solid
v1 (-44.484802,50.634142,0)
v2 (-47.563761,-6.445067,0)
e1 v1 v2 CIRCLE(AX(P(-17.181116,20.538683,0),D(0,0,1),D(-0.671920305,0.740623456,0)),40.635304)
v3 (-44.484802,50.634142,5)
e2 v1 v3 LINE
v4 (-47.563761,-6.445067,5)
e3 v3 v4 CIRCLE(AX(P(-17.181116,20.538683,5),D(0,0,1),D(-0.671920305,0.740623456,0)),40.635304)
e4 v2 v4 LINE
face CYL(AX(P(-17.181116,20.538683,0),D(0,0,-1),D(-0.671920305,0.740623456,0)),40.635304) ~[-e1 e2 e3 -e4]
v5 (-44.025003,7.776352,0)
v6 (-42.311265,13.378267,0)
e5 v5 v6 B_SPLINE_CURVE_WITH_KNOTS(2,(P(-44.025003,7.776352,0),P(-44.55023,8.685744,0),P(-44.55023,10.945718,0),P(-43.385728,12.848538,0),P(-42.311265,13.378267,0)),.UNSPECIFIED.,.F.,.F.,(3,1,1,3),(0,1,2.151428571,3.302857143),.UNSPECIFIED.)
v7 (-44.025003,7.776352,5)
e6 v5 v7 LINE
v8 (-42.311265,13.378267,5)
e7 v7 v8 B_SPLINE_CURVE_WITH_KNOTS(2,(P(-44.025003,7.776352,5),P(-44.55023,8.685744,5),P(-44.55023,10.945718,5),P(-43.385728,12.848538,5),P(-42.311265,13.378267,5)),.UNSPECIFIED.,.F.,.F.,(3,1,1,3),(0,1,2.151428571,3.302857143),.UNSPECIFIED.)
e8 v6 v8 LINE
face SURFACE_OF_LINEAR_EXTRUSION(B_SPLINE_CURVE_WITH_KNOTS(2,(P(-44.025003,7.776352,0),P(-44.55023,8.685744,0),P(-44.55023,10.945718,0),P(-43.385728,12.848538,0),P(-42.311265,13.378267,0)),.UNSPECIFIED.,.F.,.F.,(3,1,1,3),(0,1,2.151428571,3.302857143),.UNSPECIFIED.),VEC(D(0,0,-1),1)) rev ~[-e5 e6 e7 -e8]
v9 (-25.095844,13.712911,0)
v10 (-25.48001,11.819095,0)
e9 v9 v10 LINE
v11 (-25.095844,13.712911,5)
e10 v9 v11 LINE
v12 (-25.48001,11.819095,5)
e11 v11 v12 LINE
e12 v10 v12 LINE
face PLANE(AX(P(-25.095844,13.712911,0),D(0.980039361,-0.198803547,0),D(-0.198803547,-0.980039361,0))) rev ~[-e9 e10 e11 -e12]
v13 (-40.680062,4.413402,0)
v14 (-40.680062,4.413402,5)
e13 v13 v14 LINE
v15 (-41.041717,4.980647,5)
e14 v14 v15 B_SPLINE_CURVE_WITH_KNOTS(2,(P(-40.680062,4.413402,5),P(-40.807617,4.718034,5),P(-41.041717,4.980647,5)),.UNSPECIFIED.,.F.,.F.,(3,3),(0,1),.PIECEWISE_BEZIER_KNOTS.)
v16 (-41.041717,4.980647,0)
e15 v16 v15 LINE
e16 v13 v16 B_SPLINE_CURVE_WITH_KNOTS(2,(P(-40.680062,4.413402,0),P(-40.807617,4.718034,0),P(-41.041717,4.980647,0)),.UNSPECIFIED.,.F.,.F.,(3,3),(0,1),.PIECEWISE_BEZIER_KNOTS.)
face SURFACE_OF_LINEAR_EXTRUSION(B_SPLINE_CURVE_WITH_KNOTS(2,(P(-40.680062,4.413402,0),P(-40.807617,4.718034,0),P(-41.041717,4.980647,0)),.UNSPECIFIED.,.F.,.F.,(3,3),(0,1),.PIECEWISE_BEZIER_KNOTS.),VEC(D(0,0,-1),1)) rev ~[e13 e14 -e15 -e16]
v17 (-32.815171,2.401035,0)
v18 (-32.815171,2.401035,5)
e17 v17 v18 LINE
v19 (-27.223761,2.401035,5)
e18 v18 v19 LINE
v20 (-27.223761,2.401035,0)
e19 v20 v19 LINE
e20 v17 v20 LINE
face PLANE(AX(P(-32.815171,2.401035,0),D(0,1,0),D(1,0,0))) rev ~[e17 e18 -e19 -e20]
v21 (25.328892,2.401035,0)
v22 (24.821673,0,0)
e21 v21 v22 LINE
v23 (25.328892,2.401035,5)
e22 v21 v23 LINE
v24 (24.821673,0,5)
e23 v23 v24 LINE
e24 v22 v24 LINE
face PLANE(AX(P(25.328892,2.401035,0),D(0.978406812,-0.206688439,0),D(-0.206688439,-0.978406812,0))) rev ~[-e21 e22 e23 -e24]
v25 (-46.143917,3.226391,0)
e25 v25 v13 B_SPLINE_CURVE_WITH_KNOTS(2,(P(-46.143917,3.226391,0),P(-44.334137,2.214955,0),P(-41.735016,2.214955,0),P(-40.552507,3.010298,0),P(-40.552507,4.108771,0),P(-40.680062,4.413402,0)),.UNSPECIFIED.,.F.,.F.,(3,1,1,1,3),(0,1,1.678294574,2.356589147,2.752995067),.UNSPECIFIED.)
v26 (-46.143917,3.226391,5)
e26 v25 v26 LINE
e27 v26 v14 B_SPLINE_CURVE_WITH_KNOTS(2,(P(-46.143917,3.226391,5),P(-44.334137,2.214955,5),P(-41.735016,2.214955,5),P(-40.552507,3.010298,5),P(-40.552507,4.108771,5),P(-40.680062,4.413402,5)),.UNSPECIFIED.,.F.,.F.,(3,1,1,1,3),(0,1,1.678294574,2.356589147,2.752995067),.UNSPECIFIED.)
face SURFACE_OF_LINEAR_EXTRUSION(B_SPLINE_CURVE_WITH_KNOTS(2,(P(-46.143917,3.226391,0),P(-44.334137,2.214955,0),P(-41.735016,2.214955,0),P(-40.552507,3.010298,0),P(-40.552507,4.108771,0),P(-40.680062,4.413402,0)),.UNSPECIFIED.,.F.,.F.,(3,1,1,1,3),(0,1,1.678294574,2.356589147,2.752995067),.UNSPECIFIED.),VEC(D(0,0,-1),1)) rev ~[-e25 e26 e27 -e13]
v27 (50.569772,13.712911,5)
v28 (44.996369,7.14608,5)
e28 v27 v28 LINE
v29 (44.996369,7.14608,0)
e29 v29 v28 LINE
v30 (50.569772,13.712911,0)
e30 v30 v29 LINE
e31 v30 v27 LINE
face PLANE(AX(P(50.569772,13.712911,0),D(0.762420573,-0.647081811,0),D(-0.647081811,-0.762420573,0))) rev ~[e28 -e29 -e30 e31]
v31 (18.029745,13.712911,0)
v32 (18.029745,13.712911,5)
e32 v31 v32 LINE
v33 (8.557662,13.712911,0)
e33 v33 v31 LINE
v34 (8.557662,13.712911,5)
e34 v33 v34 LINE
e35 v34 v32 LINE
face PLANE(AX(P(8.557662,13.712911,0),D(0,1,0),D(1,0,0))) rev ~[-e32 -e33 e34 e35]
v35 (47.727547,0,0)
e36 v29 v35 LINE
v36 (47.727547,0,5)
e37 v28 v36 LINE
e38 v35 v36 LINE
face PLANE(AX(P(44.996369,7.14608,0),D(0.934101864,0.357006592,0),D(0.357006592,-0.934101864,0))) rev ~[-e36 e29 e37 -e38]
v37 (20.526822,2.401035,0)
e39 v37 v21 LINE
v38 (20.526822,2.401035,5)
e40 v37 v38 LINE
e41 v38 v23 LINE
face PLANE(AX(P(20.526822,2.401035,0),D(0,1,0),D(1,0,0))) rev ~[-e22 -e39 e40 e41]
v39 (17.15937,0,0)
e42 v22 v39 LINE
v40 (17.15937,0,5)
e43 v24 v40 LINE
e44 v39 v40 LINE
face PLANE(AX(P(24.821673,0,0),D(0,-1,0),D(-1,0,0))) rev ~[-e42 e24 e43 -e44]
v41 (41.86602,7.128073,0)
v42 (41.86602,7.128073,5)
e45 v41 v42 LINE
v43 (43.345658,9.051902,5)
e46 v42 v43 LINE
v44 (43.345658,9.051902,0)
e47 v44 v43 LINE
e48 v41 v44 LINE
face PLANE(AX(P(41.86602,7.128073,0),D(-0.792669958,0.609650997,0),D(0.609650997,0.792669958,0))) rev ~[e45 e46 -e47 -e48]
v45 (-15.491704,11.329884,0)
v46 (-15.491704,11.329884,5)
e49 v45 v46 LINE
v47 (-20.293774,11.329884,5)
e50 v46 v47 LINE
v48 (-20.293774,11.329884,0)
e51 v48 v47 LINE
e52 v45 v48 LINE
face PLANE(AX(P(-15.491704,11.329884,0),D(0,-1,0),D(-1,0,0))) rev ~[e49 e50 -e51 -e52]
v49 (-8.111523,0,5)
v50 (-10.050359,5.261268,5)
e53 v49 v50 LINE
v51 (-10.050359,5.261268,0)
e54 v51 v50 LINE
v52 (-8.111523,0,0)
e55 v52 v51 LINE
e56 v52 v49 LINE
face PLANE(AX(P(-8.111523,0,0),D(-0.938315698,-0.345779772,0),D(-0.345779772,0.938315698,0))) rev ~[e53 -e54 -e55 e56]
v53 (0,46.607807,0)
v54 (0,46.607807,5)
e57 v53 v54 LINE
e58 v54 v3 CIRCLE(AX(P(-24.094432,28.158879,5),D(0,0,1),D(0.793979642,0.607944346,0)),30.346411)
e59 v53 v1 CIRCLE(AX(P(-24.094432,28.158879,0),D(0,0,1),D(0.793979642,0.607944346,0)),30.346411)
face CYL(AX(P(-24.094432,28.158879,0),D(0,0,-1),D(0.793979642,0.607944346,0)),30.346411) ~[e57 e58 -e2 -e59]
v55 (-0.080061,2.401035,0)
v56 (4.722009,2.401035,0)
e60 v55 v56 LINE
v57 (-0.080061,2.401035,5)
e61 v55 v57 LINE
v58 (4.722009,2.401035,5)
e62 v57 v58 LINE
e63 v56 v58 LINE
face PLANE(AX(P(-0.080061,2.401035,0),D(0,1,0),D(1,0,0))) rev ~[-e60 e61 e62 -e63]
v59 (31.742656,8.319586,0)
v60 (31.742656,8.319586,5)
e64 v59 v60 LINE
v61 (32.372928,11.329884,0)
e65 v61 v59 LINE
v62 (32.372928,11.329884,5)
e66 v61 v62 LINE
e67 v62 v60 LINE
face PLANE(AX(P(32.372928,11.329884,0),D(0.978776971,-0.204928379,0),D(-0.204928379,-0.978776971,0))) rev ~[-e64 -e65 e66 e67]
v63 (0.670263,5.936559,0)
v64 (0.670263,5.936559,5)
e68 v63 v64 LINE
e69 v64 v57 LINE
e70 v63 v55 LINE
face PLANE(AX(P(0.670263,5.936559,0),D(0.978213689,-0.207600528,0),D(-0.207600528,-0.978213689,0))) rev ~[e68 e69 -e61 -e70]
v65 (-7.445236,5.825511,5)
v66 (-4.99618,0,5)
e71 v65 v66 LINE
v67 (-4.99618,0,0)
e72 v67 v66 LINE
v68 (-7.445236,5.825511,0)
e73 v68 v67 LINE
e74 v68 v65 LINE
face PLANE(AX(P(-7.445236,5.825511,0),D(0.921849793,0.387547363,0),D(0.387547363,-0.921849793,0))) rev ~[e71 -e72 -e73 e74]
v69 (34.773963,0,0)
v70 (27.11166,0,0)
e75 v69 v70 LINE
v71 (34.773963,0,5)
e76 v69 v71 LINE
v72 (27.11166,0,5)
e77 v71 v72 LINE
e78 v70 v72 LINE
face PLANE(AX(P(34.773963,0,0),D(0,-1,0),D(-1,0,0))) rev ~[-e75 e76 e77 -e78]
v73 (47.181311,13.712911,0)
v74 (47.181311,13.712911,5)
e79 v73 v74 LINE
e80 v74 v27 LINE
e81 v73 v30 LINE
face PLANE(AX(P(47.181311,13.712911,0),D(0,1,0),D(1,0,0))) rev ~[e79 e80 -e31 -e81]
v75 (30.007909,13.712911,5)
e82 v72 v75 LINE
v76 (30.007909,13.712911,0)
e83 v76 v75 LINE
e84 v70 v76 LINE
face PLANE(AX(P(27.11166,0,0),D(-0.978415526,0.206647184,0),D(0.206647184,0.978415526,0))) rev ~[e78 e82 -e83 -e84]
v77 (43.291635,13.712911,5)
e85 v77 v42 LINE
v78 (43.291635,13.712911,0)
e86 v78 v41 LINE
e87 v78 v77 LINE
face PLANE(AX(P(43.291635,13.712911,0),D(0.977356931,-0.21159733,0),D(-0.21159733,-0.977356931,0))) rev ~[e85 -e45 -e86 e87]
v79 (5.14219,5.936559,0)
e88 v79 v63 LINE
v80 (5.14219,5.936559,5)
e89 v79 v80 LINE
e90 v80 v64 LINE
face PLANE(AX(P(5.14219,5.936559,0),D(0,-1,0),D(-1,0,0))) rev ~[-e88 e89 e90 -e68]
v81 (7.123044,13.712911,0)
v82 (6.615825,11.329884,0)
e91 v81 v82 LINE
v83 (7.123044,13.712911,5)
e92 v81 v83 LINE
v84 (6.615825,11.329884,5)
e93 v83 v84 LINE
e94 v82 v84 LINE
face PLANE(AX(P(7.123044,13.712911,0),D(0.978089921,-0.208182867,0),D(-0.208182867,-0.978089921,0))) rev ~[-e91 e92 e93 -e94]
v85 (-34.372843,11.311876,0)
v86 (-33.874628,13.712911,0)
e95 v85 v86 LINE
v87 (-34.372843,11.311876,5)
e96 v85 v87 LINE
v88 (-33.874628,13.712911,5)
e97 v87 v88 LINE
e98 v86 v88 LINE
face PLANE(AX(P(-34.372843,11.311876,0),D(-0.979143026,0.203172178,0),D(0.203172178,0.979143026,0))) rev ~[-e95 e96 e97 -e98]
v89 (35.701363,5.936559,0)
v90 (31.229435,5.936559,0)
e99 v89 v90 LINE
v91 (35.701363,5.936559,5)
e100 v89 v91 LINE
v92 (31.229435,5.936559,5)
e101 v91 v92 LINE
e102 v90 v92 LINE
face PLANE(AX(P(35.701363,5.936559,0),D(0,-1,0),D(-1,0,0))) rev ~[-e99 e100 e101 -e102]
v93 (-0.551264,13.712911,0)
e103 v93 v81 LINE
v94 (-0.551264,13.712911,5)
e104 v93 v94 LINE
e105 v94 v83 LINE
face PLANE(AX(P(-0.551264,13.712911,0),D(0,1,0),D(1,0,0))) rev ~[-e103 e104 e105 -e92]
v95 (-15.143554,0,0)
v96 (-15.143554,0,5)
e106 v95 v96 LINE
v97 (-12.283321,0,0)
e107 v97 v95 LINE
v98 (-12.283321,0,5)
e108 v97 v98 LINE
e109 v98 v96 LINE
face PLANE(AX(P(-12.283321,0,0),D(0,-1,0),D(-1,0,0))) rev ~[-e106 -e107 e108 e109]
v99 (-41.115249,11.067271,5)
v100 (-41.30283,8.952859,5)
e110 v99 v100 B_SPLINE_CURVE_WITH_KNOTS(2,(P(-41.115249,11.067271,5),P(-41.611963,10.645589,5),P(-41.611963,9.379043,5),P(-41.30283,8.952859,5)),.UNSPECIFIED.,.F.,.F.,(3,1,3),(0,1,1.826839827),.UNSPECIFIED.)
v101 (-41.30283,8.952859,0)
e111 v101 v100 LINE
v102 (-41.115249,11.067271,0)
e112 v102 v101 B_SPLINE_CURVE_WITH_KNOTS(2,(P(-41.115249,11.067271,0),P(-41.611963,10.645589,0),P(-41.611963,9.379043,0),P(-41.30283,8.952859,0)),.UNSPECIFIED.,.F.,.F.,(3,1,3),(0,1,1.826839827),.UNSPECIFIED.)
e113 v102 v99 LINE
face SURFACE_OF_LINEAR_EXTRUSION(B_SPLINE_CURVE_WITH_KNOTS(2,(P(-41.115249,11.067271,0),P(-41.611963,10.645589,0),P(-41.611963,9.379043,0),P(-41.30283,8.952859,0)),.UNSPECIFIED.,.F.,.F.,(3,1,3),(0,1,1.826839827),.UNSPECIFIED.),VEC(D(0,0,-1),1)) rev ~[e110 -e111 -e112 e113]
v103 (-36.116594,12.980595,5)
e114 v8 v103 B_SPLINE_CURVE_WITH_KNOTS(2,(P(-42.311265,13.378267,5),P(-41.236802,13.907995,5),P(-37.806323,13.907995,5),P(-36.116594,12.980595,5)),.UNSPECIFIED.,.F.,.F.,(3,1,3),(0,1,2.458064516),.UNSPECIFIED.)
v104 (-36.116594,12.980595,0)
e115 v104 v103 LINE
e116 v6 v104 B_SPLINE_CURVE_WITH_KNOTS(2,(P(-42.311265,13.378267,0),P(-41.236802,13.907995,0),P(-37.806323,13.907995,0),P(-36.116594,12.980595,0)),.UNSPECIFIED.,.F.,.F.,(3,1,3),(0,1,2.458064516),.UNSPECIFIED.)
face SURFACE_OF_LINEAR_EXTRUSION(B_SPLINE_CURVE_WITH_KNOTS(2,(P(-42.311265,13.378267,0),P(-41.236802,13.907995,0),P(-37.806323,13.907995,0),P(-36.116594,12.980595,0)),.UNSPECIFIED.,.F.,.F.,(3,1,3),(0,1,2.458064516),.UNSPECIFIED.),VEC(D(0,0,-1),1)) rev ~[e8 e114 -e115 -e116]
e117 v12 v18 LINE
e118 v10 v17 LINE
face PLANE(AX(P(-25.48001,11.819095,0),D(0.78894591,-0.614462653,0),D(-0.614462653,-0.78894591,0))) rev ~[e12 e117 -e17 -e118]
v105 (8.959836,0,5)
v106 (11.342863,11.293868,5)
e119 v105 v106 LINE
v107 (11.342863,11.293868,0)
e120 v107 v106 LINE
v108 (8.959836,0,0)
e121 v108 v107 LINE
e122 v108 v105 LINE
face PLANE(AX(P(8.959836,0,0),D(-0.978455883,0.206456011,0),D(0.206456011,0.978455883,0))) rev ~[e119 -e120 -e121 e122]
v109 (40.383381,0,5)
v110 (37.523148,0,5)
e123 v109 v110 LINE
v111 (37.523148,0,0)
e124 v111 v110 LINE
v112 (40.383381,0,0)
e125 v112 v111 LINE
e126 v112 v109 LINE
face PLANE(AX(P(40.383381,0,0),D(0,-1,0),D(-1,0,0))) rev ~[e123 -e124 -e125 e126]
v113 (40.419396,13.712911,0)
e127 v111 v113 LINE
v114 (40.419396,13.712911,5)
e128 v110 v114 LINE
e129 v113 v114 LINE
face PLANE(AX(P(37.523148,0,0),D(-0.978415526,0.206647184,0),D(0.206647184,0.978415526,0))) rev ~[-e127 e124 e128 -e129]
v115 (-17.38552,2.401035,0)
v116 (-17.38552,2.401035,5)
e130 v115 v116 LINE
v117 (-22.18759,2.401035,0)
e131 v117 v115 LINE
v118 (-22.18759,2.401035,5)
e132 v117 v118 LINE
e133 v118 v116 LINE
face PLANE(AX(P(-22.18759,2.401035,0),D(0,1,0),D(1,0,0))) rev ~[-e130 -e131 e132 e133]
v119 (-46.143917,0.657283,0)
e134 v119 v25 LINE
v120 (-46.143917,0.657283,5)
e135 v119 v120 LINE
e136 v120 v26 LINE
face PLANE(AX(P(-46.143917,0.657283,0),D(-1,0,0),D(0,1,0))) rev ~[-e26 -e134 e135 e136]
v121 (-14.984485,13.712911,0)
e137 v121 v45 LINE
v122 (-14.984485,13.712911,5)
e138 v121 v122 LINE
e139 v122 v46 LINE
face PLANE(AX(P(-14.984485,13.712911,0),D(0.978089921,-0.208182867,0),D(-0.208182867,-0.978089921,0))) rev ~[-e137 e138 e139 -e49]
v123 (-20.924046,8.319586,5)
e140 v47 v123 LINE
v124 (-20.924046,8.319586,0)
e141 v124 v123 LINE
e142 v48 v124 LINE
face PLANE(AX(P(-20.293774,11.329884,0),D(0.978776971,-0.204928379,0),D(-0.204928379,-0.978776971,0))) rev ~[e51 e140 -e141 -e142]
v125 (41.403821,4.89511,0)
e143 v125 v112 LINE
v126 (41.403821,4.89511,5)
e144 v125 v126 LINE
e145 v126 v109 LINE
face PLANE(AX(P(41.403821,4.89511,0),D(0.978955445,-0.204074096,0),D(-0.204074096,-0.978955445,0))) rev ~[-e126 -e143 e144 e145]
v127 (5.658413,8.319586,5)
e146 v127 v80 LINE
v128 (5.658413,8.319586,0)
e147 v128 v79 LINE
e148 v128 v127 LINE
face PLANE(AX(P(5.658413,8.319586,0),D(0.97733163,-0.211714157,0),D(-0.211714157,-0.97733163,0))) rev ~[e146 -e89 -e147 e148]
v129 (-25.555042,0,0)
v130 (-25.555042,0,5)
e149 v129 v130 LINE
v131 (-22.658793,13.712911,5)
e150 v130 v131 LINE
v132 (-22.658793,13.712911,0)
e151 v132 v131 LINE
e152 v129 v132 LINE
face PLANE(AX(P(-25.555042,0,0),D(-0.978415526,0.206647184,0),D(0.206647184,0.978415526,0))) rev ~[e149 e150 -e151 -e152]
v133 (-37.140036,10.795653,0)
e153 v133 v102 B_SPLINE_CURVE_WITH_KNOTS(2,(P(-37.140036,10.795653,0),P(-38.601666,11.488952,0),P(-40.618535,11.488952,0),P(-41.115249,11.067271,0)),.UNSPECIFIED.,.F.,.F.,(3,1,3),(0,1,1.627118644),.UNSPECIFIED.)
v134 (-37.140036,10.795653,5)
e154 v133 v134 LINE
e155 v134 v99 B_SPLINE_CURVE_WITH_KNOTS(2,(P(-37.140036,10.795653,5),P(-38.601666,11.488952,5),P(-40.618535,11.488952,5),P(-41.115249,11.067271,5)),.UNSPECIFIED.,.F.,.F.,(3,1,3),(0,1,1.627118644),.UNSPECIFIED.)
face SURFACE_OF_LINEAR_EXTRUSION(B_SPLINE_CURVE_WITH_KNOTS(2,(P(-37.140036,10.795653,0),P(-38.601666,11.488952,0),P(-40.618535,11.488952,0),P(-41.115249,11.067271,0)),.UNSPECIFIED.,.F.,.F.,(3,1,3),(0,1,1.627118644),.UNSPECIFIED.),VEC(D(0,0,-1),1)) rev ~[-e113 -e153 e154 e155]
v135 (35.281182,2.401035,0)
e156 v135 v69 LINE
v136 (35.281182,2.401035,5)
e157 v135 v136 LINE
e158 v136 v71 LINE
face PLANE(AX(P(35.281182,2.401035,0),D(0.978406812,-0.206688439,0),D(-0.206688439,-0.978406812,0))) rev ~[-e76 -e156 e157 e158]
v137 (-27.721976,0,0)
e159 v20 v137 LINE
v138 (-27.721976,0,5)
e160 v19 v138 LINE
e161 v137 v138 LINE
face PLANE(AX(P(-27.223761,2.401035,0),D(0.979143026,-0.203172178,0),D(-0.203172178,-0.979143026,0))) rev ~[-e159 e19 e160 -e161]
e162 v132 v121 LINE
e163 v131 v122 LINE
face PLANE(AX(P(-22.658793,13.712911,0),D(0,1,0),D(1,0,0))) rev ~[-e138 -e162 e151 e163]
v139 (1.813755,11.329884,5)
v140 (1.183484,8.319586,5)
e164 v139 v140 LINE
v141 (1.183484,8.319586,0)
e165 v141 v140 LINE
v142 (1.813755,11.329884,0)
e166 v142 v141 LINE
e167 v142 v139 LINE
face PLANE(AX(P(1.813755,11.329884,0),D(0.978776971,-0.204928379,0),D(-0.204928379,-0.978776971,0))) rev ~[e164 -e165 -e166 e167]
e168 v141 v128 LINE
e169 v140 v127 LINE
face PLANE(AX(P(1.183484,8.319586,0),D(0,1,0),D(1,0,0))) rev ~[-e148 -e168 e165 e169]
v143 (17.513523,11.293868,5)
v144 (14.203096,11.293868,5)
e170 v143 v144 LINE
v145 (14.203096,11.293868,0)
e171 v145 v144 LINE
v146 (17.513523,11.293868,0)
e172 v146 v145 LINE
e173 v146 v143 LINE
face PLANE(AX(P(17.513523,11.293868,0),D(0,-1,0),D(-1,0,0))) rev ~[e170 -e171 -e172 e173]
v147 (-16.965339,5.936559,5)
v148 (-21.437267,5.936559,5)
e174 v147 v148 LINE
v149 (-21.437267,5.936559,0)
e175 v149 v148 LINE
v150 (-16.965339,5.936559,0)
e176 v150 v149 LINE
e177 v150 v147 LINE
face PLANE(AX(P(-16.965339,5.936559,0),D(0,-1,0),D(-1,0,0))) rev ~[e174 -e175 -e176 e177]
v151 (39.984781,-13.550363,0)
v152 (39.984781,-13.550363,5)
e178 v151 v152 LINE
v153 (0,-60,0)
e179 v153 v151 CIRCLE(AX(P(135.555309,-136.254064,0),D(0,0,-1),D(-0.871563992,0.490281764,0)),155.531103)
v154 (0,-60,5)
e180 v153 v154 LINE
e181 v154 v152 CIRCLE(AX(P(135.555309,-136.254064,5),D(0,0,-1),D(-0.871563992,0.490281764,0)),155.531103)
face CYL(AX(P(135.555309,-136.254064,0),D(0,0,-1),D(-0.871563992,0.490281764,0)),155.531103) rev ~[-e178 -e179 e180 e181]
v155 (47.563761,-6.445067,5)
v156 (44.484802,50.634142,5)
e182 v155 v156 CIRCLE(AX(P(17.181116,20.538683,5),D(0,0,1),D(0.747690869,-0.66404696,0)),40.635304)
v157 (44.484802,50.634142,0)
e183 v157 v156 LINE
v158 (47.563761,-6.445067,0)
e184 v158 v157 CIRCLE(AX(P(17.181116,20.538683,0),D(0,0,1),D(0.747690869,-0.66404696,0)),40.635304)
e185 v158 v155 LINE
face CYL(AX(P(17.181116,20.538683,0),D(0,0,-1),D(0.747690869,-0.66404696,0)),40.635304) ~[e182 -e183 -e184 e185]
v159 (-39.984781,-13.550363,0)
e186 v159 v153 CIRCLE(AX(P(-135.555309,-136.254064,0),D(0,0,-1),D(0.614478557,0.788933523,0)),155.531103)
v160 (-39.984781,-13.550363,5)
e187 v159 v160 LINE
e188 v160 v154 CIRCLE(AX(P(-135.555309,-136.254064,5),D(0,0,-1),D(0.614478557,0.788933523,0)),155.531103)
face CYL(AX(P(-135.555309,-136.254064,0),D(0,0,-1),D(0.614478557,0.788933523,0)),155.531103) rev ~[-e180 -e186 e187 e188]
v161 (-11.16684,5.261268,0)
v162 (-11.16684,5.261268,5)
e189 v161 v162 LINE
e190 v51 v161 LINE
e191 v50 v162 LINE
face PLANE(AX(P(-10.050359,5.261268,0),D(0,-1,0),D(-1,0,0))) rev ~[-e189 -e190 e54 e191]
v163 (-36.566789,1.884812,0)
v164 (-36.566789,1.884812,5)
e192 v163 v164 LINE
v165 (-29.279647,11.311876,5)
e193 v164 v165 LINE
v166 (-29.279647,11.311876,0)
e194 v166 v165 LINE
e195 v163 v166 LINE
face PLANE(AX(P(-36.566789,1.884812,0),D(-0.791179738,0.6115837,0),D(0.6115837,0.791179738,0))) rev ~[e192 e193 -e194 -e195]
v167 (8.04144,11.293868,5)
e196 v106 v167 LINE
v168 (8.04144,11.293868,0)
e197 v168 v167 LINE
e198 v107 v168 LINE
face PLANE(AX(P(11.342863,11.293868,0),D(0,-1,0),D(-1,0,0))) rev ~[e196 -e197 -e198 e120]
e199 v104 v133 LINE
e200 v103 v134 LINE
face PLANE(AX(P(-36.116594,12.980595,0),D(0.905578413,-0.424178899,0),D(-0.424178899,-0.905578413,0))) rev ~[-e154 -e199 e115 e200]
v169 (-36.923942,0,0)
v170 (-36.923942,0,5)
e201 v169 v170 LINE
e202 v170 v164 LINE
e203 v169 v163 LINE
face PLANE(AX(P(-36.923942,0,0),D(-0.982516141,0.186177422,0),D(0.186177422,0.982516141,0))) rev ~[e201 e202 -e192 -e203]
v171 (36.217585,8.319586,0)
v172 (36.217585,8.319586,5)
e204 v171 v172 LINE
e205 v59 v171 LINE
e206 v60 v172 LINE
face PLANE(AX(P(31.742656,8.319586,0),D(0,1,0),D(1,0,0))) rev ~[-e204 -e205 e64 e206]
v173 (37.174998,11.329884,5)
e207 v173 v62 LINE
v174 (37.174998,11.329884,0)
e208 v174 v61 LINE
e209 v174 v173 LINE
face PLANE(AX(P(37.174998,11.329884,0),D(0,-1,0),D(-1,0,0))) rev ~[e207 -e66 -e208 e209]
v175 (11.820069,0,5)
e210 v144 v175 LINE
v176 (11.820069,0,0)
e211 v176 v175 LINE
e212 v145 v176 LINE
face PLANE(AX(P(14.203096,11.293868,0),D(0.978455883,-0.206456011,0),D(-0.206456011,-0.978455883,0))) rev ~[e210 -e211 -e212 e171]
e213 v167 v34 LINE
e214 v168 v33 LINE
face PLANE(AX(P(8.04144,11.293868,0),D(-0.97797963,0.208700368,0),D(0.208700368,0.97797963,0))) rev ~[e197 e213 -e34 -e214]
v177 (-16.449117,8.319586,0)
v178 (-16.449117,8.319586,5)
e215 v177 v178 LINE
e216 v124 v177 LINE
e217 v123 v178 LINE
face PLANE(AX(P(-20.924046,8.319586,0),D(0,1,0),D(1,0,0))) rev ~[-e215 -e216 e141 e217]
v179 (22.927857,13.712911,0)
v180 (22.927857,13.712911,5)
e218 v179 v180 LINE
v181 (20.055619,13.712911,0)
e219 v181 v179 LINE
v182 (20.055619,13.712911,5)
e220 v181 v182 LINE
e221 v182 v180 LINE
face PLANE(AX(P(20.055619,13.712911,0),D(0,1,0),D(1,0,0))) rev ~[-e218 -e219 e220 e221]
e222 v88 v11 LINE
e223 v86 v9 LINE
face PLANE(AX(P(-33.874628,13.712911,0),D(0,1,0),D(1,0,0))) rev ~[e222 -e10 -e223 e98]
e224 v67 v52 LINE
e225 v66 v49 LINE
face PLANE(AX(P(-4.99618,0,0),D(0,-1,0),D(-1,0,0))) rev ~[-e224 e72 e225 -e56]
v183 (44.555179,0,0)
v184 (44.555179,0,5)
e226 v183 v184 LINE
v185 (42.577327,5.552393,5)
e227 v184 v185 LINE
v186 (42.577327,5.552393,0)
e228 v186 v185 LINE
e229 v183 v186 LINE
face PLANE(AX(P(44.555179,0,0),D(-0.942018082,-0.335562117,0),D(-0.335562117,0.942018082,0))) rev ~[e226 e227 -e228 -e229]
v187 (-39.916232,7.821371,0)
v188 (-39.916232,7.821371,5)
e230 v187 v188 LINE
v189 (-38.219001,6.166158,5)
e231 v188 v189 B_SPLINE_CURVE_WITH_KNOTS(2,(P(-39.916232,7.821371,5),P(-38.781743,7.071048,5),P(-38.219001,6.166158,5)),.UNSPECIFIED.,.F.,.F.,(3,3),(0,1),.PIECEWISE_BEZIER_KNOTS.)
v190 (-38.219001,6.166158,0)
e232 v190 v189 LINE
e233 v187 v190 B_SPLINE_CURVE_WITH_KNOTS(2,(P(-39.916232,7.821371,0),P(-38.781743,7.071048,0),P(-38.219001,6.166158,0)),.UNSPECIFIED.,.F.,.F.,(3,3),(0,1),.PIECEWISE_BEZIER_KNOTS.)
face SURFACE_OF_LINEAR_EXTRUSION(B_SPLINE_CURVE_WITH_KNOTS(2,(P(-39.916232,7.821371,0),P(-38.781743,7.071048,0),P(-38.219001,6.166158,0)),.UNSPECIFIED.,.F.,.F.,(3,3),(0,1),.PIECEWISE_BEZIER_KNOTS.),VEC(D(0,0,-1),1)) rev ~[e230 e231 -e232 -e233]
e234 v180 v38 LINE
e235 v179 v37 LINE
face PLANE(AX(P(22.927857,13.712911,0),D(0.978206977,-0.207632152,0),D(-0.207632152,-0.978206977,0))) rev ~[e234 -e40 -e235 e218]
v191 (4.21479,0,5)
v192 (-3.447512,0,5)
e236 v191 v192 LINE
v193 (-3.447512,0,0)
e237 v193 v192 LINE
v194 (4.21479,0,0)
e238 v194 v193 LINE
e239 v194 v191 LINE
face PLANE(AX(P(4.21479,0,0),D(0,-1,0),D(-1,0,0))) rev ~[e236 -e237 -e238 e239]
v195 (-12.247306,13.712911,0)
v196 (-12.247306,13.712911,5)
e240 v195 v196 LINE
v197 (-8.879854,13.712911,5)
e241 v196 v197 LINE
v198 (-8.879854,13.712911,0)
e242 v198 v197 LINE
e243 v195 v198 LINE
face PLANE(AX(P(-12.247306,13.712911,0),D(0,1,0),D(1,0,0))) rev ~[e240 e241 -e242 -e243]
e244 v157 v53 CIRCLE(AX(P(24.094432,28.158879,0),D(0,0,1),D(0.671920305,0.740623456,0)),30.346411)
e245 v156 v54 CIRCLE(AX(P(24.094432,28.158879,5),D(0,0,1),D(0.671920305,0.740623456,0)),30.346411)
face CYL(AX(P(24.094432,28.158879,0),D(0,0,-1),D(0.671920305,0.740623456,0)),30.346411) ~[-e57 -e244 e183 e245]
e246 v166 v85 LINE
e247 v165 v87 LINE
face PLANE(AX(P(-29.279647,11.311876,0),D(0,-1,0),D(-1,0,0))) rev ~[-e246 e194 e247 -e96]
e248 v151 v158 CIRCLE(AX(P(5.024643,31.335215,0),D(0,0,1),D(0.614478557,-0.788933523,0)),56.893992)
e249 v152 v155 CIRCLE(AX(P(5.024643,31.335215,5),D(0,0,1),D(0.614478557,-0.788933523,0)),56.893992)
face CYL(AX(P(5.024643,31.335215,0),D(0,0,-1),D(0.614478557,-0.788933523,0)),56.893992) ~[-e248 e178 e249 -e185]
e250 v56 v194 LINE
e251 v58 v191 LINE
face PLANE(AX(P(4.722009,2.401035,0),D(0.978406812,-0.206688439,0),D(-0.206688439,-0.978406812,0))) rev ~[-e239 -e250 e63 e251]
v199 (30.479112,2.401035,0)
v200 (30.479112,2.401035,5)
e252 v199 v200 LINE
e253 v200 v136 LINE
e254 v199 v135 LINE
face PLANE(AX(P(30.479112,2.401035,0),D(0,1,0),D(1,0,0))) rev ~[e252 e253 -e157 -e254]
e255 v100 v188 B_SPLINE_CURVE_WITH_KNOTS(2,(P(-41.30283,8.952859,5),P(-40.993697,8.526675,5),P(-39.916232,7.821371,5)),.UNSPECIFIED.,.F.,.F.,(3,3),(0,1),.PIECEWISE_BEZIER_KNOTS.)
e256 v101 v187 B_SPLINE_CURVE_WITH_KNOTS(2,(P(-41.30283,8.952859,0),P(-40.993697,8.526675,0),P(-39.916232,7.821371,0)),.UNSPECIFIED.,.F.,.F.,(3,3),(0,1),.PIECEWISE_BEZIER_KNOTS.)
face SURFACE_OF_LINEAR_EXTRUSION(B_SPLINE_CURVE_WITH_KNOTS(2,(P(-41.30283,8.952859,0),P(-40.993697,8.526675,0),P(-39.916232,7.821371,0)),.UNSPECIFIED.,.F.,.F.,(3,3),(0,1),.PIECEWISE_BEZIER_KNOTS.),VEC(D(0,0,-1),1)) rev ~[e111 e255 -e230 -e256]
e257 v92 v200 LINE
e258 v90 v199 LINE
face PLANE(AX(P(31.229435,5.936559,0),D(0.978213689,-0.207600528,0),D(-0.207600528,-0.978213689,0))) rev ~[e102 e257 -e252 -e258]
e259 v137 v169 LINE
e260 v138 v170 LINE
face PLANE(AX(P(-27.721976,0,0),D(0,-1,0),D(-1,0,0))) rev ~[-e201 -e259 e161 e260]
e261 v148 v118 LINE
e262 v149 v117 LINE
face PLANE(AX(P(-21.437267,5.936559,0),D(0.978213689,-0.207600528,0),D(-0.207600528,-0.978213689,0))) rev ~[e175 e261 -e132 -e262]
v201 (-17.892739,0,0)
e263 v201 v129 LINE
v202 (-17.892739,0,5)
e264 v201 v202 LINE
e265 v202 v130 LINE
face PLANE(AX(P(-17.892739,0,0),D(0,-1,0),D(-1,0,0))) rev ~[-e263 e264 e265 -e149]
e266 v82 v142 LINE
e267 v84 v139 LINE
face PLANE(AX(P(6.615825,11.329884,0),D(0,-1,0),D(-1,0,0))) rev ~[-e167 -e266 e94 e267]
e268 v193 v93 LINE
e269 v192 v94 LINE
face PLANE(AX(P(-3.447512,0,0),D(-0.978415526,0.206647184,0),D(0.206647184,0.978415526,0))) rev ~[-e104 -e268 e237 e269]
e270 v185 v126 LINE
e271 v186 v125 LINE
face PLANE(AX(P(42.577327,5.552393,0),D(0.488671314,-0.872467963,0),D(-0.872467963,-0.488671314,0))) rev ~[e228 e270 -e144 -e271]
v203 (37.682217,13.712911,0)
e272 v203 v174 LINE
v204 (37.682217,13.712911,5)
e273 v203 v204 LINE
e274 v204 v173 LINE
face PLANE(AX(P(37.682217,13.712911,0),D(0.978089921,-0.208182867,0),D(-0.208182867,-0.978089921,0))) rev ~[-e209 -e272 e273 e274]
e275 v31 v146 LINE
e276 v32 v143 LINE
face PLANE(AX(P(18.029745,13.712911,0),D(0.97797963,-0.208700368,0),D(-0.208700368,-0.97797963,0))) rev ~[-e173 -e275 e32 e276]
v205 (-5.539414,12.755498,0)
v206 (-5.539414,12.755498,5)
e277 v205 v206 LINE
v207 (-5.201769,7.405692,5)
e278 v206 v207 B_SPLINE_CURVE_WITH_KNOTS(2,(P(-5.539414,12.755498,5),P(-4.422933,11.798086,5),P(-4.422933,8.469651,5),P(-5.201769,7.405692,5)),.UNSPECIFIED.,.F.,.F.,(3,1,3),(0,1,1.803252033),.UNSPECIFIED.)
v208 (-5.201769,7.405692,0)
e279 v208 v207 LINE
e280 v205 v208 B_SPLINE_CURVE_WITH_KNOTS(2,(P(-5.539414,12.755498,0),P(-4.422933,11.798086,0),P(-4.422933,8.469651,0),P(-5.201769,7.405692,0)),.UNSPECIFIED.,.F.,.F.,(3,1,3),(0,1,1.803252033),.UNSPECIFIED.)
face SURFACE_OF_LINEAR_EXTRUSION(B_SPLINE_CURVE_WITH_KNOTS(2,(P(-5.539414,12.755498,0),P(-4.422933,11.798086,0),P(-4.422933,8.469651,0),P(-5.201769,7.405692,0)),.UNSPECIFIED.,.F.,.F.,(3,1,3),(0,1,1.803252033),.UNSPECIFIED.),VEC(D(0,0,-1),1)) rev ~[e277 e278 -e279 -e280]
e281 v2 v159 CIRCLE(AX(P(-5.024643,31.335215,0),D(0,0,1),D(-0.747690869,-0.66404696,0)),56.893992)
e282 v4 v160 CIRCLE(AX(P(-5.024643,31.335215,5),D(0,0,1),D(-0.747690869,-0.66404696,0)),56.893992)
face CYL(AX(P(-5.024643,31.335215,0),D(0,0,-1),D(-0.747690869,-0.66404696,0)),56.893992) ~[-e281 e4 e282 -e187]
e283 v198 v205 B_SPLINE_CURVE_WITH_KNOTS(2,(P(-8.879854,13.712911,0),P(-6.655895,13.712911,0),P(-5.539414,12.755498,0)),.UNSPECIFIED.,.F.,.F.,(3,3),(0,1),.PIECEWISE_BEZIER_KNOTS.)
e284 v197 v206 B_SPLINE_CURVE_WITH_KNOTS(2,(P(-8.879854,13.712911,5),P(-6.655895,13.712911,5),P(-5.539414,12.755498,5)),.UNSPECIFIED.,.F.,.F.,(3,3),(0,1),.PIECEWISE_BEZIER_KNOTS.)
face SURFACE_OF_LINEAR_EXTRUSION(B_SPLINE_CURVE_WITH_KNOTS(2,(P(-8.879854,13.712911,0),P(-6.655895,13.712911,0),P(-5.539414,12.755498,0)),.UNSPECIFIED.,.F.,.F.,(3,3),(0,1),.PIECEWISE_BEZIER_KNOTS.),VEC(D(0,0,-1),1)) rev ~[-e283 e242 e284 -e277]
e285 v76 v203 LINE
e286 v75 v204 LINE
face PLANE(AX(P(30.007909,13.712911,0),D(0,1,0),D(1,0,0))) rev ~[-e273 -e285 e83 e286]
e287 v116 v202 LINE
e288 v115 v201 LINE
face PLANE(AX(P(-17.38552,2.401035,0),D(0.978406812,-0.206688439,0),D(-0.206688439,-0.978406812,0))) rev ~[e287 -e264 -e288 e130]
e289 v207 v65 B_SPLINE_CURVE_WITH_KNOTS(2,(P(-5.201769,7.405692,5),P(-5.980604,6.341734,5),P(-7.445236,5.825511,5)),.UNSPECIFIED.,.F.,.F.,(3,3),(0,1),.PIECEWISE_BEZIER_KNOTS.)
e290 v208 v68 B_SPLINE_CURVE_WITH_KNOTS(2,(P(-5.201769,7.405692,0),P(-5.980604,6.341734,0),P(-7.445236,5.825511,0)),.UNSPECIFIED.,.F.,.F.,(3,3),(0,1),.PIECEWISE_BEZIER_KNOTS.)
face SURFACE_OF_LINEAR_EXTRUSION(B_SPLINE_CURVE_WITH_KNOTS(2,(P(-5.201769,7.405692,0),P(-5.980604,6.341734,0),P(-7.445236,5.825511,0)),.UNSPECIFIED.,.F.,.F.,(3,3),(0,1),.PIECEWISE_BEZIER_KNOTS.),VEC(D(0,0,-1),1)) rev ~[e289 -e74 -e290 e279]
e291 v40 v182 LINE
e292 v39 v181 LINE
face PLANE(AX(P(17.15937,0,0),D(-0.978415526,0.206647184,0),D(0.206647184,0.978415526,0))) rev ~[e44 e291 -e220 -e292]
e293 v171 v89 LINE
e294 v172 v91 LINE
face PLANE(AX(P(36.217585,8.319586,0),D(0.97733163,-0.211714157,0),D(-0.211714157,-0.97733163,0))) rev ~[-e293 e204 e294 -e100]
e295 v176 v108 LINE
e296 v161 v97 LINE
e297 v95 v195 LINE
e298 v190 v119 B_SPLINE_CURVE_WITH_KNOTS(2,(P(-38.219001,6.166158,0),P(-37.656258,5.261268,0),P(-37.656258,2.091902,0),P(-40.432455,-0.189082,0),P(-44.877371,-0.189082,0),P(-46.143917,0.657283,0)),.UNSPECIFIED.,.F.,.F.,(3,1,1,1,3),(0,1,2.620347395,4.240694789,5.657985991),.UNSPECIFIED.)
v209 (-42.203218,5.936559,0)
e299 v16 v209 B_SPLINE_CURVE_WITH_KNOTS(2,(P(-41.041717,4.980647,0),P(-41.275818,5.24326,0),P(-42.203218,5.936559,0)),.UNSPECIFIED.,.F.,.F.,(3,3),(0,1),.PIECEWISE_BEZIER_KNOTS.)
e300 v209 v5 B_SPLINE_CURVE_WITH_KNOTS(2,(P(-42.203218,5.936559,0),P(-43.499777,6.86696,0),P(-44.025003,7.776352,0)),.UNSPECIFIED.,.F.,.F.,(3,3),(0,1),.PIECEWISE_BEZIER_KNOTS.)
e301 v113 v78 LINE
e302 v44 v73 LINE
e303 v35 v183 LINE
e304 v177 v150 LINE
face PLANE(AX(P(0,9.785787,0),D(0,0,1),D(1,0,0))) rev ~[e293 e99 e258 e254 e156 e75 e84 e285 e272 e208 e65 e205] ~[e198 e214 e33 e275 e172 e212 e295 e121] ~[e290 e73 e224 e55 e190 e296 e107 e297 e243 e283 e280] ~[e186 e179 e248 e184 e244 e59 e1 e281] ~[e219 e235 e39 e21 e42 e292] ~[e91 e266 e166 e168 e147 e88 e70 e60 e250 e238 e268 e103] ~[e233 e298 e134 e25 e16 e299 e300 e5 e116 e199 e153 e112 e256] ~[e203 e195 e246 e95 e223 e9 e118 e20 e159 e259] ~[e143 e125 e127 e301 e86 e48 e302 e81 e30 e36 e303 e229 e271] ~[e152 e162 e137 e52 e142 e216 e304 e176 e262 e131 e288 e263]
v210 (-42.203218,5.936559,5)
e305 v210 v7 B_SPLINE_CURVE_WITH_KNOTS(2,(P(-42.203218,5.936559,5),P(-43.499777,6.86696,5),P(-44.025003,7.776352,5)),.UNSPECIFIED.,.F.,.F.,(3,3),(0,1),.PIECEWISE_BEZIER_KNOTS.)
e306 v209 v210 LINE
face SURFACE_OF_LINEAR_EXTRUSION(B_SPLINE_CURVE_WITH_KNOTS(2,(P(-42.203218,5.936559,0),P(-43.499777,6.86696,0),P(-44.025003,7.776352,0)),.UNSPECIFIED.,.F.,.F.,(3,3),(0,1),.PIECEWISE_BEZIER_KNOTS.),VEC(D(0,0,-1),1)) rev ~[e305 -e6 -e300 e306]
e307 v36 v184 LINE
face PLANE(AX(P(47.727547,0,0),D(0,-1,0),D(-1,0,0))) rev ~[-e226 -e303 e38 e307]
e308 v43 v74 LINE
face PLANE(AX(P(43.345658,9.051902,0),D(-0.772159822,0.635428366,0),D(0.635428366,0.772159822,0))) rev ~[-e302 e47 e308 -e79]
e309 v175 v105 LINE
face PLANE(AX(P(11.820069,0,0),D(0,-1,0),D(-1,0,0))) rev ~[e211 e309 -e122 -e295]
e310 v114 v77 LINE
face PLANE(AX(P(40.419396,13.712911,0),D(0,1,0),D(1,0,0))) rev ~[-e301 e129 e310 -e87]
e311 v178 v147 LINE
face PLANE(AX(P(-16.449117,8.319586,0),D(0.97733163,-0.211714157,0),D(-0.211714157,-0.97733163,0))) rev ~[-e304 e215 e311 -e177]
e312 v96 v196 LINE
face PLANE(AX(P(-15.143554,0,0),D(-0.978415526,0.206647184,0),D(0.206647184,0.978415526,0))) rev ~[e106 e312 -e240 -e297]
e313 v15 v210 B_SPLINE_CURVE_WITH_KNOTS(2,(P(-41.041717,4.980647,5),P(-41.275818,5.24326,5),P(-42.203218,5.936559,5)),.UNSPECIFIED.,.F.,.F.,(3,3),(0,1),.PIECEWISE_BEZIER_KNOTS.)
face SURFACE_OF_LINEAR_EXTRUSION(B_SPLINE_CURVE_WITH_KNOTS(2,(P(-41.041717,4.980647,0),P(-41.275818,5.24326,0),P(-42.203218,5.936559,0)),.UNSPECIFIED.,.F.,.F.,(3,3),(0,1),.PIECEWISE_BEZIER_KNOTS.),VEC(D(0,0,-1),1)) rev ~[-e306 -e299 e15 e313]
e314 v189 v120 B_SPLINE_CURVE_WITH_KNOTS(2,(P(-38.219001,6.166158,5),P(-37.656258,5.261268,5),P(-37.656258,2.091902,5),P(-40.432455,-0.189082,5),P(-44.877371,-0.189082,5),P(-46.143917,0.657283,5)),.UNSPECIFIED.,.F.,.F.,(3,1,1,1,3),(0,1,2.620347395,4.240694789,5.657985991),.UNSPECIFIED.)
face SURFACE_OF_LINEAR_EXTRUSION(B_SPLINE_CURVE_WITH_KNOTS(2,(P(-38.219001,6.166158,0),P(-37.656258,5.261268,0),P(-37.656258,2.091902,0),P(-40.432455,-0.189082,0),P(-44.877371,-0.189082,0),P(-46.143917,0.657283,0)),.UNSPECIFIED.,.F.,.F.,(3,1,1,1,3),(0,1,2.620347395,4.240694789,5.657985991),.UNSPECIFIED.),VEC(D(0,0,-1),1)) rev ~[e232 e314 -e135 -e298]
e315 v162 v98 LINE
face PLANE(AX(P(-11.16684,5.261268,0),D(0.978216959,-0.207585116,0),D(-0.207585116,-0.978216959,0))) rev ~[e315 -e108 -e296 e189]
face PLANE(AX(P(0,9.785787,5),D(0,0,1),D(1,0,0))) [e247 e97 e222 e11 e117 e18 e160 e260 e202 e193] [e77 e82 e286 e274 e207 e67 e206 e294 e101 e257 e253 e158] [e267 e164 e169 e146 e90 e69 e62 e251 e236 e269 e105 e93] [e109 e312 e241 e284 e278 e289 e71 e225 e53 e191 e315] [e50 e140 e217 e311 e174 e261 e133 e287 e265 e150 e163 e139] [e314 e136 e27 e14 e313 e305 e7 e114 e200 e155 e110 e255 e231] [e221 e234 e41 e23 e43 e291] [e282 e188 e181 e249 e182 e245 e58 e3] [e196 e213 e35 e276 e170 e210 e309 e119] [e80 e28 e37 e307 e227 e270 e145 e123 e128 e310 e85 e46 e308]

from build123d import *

# Parameters (mm, degrees)
F1_DEPTH = 5


with BuildPart() as f1:
    # F0 (on Top) → F1 (new body)
    with BuildSketch(Plane.XY):
        with BuildLine():
            ThreePointArc((39.9847812951, -13.5503625497), (43.9367876921, -10.1710657097), (47.5637614727, -6.445067469))
            ThreePointArc((47.5637614727, -6.445067469), (57.7574296409, 22.7274453414), (44.4848015904, 50.6341420114))
            ThreePointArc((44.4848015904, 50.6341420114), (21.3589499339, 58.3817468835), (0, 46.6078072786))
            ThreePointArc((0, 46.6078072786), (-21.3589499339, 58.3817468835), (-44.4848015904, 50.6341420114))
            ThreePointArc((-44.4848015904, 50.6341420114), (-57.7574296409, 22.7274453414), (-47.5637614727, -6.445067469))
            ThreePointArc((-47.5637614727, -6.445067469), (-43.9367876921, -10.1710657097), (-39.9847812951, -13.5503625497))
            ThreePointArc((-39.9847812951, -13.5503625497), (-17.6817313741, -34.786119341), (0, -60))
            ThreePointArc((0, -60), (17.6817313741, -34.786119341), (39.9847812951, -13.5503625497))
        make_face()
        with BuildLine():
            add(Edge.make_bspline(
                [(-38.2190007028, 6.1661579287), (-37.656258132, 5.2612678749), (-37.656258132, 4.0517465095)],
                knots=[0, 0, 0, 1, 1, 1], degree=2))
            add(Edge.make_bspline(
                [(-37.656258132, 4.0517465095), (-37.656258132, 2.0919017164), (-39.0443564732, 0.9514101063)],
                knots=[0, 0, 0, 1, 1, 1], degree=2))
            add(Edge.make_bspline(
                [(-39.0443564732, 0.9514101063), (-40.4324548144, -0.1890815038), (-42.8034768459, -0.1890815038)],
                knots=[0, 0, 0, 1, 1, 1], degree=2))
            add(Edge.make_bspline(
                [(-42.8034768459, -0.1890815038), (-44.8773708, -0.1890815038), (-46.143916746, 0.6572833227)],
                knots=[0, 0, 0, 1, 1, 1], degree=2))
            Line((-46.143916746, 0.6572833227), (-46.143916746, 3.226390739))
            add(Edge.make_bspline(
                [(-46.143916746, 3.226390739), (-44.3341366384, 2.2149547585), (-42.7854690837, 2.2149547585)],
                knots=[0, 0, 0, 1, 1, 1], degree=2))
            add(Edge.make_bspline(
                [(-42.7854690837, 2.2149547585), (-41.7350162849, 2.2149547585), (-41.1437614239, 2.6126261752)],
                knots=[0, 0, 0, 1, 1, 1], degree=2))
            add(Edge.make_bspline(
                [(-41.1437614239, 2.6126261752), (-40.5525065629, 3.0102975919), (-40.5525065629, 3.7035964391)],
                knots=[0, 0, 0, 1, 1, 1], degree=2))
            add(Edge.make_bspline(
                [(-40.5525065629, 3.7035964391), (-40.5525065629, 4.10877109), (-40.6800615456, 4.4134024016)],
                knots=[0, 0, 0, 1, 1, 1], degree=2))
            add(Edge.make_bspline(
                [(-40.6800615456, 4.4134024016), (-40.8076165283, 4.7180337133), (-41.0417174377, 4.980646913)],
                knots=[0, 0, 0, 1, 1, 1], degree=2))
            add(Edge.make_bspline(
                [(-41.0417174377, 4.980646913), (-41.2758183472, 5.2432601127), (-42.2032181038, 5.9365589599)],
                knots=[0, 0, 0, 1, 1, 1], degree=2))
            add(Edge.make_bspline(
                [(-42.2032181038, 5.9365589599), (-43.4997769868, 6.8669600102), (-44.0250033862, 7.7763520045)],
                knots=[0, 0, 0, 1, 1, 1], degree=2))
            add(Edge.make_bspline(
                [(-44.0250033862, 7.7763520045), (-44.5502297856, 8.6857439989), (-44.5502297856, 9.7361967977)],
                knots=[0, 0, 0, 1, 1, 1], degree=2))
            add(Edge.make_bspline(
                [(-44.5502297856, 9.7361967977), (-44.5502297856, 10.9457181631), (-43.9679788057, 11.8971282694)],
                knots=[0, 0, 0, 1, 1, 1], degree=2))
            add(Edge.make_bspline(
                [(-43.9679788057, 11.8971282694), (-43.3857278258, 12.8485383757), (-42.3112646774, 13.3782667156)],
                knots=[0, 0, 0, 1, 1, 1], degree=2))
            add(Edge.make_bspline(
                [(-42.3112646774, 13.3782667156), (-41.2368015289, 13.9079950556), (-39.8411999534, 13.9079950556)],
                knots=[0, 0, 0, 1, 1, 1], degree=2))
            add(Edge.make_bspline(
                [(-39.8411999534, 13.9079950556), (-37.8063228175, 13.9079950556), (-36.1165944584, 12.980595299)],
                knots=[0, 0, 0, 1, 1, 1], degree=2))
            Line((-36.1165944584, 12.980595299), (-37.1400356138, 10.7956534775))
            add(Edge.make_bspline(
                [(-37.1400356138, 10.7956534775), (-38.6016656509, 11.4889523247), (-39.8411999534, 11.4889523247)],
                knots=[0, 0, 0, 1, 1, 1], degree=2))
            add(Edge.make_bspline(
                [(-39.8411999534, 11.4889523247), (-40.6185350245, 11.4889523247), (-41.1152491336, 11.0672705584)],
                knots=[0, 0, 0, 1, 1, 1], degree=2))
            add(Edge.make_bspline(
                [(-41.1152491336, 11.0672705584), (-41.6119632428, 10.645588792), (-41.6119632428, 9.9522899448)],
                knots=[0, 0, 0, 1, 1, 1], degree=2))
            add(Edge.make_bspline(
                [(-41.6119632428, 9.9522899448), (-41.6119632428, 9.3790428461), (-41.3028299906, 8.9528591391)],
                knots=[0, 0, 0, 1, 1, 1], degree=2))
            add(Edge.make_bspline(
                [(-41.3028299906, 8.9528591391), (-40.9936967383, 8.5266754322), (-39.9162322962, 7.8213714102)],
                knots=[0, 0, 0, 1, 1, 1], degree=2))
            add(Edge.make_bspline(
                [(-39.9162322962, 7.8213714102), (-38.7817432735, 7.0710479825), (-38.2190007028, 6.1661579287)],
                knots=[0, 0, 0, 1, 1, 1], degree=2))
        make_face(mode=Mode.SUBTRACT)
        Polygon((-27.2237611935, 2.4010349686), (-27.7219759494, 0), (-36.9239424666, 0), (-36.566788515, 1.8848124503), (-29.2796473853, 11.3118759958), (-34.3728428124, 11.3118759958), (-33.8746280565, 13.7129109644), (-25.0958439525, 13.7129109644), (-25.4800095475, 11.8190946329), (-32.8151713766, 2.4010349686), align=None, mode=Mode.SUBTRACT)
        Polygon((-17.3855204096, 2.4010349686), (-17.8927390468, 0), (-25.5550418903, 0), (-22.6587934594, 13.7129109644), (-14.984485441, 13.7129109644), (-15.4917040782, 11.3298837581), (-20.2937740153, 11.3298837581), (-20.9240456946, 8.3195861662), (-16.4491167719, 8.3195861662), (-16.9653392901, 5.9365589599), (-21.4372669191, 5.9365589599), (-22.1875903468, 2.4010349686), align=None, mode=Mode.SUBTRACT)
        with BuildLine():
            Line((-10.0503585806, 5.2612678749), (-11.166839841, 5.2612678749))
            Line((-11.166839841, 5.2612678749), (-12.2833211014, 0))
            Line((-12.2833211014, 0), (-15.1435540077, 0))
            Line((-15.1435540077, 0), (-12.2473055768, 13.7129109644))
            Line((-12.2473055768, 13.7129109644), (-8.8798540334, 13.7129109644))
            add(Edge.make_bspline(
                [(-8.8798540334, 13.7129109644), (-6.6558953937, 13.7129109644), (-5.5394141333, 12.7554982707)],
                knots=[0, 0, 0, 1, 1, 1], degree=2))
            add(Edge.make_bspline(
                [(-5.5394141333, 12.7554982707), (-4.4229328729, 11.7980855769), (-4.4229328729, 9.9522899448)],
                knots=[0, 0, 0, 1, 1, 1], degree=2))
            add(Edge.make_bspline(
                [(-4.4229328729, 9.9522899448), (-4.4229328729, 8.4696508517), (-5.2017685909, 7.4056922313)],
                knots=[0, 0, 0, 1, 1, 1], degree=2))
            add(Edge.make_bspline(
                [(-5.2017685909, 7.4056922313), (-5.9806043088, 6.3417336108), (-7.4452356397, 5.8255110926)],
                knots=[0, 0, 0, 1, 1, 1], degree=2))
            Line((-7.4452356397, 5.8255110926), (-4.9961799717, 0))
            Line((-4.9961799717, 0), (-8.1115228434, 0))
            Line((-8.1115228434, 0), (-10.0503585806, 5.2612678749))
        make_face(mode=Mode.SUBTRACT)
        Polygon((4.7220090637, 2.4010349686), (4.2147904266, 0), (-3.4475124169, 0), (-0.5512639861, 13.7129109644), (7.1230440323, 13.7129109644), (6.6158253952, 11.3298837581), (1.813755458, 11.3298837581), (1.1834837787, 8.3195861662), (5.6584127015, 8.3195861662), (5.1421901832, 5.9365589599), (0.6702625542, 5.9365589599), (-0.0800608735, 2.4010349686), align=None, mode=Mode.SUBTRACT)
        Polygon((14.2030958959, 11.2938682335), (11.8200686896, 0), (8.9598357833, 0), (11.3428629896, 11.2938682335), (8.0414399078, 11.2938682335), (8.557662426, 13.7129109644), (18.0297453771, 13.7129109644), (17.5135228589, 11.2938682335), align=None, mode=Mode.SUBTRACT)
        Polygon((24.8216730445, 0), (17.159370201, 0), (20.0556186319, 13.7129109644), (22.9278567131, 13.7129109644), (20.5268217445, 2.4010349686), (25.3288916817, 2.4010349686), align=None, mode=Mode.SUBTRACT)
        Polygon((35.2811816265, 2.4010349686), (34.7739629894, 0), (27.1116601458, 0), (30.0079085767, 13.7129109644), (37.6822165951, 13.7129109644), (37.174997958, 11.3298837581), (32.3729280208, 11.3298837581), (31.7426563415, 8.3195861662), (36.2175852642, 8.3195861662), (35.701362746, 5.9365589599), (31.229435117, 5.9365589599), (30.4791116893, 2.4010349686), align=None, mode=Mode.SUBTRACT)
        Polygon((44.9963693682, 7.1460803253), (47.7275466449, 0), (44.5551791927, 0), (42.5773266373, 5.5523933649), (41.4038207964, 4.8951100422), (40.3833809348, 0), (37.5231480284, 0), (40.4193964593, 13.7129109644), (43.2916345405, 13.7129109644), (41.8660200279, 7.128072563), (43.3456578273, 9.0519018316), (47.1813111896, 13.7129109644), (50.569771789, 13.7129109644), align=None, mode=Mode.SUBTRACT)
    extrude(amount=F1_DEPTH)


solid = f1.part
